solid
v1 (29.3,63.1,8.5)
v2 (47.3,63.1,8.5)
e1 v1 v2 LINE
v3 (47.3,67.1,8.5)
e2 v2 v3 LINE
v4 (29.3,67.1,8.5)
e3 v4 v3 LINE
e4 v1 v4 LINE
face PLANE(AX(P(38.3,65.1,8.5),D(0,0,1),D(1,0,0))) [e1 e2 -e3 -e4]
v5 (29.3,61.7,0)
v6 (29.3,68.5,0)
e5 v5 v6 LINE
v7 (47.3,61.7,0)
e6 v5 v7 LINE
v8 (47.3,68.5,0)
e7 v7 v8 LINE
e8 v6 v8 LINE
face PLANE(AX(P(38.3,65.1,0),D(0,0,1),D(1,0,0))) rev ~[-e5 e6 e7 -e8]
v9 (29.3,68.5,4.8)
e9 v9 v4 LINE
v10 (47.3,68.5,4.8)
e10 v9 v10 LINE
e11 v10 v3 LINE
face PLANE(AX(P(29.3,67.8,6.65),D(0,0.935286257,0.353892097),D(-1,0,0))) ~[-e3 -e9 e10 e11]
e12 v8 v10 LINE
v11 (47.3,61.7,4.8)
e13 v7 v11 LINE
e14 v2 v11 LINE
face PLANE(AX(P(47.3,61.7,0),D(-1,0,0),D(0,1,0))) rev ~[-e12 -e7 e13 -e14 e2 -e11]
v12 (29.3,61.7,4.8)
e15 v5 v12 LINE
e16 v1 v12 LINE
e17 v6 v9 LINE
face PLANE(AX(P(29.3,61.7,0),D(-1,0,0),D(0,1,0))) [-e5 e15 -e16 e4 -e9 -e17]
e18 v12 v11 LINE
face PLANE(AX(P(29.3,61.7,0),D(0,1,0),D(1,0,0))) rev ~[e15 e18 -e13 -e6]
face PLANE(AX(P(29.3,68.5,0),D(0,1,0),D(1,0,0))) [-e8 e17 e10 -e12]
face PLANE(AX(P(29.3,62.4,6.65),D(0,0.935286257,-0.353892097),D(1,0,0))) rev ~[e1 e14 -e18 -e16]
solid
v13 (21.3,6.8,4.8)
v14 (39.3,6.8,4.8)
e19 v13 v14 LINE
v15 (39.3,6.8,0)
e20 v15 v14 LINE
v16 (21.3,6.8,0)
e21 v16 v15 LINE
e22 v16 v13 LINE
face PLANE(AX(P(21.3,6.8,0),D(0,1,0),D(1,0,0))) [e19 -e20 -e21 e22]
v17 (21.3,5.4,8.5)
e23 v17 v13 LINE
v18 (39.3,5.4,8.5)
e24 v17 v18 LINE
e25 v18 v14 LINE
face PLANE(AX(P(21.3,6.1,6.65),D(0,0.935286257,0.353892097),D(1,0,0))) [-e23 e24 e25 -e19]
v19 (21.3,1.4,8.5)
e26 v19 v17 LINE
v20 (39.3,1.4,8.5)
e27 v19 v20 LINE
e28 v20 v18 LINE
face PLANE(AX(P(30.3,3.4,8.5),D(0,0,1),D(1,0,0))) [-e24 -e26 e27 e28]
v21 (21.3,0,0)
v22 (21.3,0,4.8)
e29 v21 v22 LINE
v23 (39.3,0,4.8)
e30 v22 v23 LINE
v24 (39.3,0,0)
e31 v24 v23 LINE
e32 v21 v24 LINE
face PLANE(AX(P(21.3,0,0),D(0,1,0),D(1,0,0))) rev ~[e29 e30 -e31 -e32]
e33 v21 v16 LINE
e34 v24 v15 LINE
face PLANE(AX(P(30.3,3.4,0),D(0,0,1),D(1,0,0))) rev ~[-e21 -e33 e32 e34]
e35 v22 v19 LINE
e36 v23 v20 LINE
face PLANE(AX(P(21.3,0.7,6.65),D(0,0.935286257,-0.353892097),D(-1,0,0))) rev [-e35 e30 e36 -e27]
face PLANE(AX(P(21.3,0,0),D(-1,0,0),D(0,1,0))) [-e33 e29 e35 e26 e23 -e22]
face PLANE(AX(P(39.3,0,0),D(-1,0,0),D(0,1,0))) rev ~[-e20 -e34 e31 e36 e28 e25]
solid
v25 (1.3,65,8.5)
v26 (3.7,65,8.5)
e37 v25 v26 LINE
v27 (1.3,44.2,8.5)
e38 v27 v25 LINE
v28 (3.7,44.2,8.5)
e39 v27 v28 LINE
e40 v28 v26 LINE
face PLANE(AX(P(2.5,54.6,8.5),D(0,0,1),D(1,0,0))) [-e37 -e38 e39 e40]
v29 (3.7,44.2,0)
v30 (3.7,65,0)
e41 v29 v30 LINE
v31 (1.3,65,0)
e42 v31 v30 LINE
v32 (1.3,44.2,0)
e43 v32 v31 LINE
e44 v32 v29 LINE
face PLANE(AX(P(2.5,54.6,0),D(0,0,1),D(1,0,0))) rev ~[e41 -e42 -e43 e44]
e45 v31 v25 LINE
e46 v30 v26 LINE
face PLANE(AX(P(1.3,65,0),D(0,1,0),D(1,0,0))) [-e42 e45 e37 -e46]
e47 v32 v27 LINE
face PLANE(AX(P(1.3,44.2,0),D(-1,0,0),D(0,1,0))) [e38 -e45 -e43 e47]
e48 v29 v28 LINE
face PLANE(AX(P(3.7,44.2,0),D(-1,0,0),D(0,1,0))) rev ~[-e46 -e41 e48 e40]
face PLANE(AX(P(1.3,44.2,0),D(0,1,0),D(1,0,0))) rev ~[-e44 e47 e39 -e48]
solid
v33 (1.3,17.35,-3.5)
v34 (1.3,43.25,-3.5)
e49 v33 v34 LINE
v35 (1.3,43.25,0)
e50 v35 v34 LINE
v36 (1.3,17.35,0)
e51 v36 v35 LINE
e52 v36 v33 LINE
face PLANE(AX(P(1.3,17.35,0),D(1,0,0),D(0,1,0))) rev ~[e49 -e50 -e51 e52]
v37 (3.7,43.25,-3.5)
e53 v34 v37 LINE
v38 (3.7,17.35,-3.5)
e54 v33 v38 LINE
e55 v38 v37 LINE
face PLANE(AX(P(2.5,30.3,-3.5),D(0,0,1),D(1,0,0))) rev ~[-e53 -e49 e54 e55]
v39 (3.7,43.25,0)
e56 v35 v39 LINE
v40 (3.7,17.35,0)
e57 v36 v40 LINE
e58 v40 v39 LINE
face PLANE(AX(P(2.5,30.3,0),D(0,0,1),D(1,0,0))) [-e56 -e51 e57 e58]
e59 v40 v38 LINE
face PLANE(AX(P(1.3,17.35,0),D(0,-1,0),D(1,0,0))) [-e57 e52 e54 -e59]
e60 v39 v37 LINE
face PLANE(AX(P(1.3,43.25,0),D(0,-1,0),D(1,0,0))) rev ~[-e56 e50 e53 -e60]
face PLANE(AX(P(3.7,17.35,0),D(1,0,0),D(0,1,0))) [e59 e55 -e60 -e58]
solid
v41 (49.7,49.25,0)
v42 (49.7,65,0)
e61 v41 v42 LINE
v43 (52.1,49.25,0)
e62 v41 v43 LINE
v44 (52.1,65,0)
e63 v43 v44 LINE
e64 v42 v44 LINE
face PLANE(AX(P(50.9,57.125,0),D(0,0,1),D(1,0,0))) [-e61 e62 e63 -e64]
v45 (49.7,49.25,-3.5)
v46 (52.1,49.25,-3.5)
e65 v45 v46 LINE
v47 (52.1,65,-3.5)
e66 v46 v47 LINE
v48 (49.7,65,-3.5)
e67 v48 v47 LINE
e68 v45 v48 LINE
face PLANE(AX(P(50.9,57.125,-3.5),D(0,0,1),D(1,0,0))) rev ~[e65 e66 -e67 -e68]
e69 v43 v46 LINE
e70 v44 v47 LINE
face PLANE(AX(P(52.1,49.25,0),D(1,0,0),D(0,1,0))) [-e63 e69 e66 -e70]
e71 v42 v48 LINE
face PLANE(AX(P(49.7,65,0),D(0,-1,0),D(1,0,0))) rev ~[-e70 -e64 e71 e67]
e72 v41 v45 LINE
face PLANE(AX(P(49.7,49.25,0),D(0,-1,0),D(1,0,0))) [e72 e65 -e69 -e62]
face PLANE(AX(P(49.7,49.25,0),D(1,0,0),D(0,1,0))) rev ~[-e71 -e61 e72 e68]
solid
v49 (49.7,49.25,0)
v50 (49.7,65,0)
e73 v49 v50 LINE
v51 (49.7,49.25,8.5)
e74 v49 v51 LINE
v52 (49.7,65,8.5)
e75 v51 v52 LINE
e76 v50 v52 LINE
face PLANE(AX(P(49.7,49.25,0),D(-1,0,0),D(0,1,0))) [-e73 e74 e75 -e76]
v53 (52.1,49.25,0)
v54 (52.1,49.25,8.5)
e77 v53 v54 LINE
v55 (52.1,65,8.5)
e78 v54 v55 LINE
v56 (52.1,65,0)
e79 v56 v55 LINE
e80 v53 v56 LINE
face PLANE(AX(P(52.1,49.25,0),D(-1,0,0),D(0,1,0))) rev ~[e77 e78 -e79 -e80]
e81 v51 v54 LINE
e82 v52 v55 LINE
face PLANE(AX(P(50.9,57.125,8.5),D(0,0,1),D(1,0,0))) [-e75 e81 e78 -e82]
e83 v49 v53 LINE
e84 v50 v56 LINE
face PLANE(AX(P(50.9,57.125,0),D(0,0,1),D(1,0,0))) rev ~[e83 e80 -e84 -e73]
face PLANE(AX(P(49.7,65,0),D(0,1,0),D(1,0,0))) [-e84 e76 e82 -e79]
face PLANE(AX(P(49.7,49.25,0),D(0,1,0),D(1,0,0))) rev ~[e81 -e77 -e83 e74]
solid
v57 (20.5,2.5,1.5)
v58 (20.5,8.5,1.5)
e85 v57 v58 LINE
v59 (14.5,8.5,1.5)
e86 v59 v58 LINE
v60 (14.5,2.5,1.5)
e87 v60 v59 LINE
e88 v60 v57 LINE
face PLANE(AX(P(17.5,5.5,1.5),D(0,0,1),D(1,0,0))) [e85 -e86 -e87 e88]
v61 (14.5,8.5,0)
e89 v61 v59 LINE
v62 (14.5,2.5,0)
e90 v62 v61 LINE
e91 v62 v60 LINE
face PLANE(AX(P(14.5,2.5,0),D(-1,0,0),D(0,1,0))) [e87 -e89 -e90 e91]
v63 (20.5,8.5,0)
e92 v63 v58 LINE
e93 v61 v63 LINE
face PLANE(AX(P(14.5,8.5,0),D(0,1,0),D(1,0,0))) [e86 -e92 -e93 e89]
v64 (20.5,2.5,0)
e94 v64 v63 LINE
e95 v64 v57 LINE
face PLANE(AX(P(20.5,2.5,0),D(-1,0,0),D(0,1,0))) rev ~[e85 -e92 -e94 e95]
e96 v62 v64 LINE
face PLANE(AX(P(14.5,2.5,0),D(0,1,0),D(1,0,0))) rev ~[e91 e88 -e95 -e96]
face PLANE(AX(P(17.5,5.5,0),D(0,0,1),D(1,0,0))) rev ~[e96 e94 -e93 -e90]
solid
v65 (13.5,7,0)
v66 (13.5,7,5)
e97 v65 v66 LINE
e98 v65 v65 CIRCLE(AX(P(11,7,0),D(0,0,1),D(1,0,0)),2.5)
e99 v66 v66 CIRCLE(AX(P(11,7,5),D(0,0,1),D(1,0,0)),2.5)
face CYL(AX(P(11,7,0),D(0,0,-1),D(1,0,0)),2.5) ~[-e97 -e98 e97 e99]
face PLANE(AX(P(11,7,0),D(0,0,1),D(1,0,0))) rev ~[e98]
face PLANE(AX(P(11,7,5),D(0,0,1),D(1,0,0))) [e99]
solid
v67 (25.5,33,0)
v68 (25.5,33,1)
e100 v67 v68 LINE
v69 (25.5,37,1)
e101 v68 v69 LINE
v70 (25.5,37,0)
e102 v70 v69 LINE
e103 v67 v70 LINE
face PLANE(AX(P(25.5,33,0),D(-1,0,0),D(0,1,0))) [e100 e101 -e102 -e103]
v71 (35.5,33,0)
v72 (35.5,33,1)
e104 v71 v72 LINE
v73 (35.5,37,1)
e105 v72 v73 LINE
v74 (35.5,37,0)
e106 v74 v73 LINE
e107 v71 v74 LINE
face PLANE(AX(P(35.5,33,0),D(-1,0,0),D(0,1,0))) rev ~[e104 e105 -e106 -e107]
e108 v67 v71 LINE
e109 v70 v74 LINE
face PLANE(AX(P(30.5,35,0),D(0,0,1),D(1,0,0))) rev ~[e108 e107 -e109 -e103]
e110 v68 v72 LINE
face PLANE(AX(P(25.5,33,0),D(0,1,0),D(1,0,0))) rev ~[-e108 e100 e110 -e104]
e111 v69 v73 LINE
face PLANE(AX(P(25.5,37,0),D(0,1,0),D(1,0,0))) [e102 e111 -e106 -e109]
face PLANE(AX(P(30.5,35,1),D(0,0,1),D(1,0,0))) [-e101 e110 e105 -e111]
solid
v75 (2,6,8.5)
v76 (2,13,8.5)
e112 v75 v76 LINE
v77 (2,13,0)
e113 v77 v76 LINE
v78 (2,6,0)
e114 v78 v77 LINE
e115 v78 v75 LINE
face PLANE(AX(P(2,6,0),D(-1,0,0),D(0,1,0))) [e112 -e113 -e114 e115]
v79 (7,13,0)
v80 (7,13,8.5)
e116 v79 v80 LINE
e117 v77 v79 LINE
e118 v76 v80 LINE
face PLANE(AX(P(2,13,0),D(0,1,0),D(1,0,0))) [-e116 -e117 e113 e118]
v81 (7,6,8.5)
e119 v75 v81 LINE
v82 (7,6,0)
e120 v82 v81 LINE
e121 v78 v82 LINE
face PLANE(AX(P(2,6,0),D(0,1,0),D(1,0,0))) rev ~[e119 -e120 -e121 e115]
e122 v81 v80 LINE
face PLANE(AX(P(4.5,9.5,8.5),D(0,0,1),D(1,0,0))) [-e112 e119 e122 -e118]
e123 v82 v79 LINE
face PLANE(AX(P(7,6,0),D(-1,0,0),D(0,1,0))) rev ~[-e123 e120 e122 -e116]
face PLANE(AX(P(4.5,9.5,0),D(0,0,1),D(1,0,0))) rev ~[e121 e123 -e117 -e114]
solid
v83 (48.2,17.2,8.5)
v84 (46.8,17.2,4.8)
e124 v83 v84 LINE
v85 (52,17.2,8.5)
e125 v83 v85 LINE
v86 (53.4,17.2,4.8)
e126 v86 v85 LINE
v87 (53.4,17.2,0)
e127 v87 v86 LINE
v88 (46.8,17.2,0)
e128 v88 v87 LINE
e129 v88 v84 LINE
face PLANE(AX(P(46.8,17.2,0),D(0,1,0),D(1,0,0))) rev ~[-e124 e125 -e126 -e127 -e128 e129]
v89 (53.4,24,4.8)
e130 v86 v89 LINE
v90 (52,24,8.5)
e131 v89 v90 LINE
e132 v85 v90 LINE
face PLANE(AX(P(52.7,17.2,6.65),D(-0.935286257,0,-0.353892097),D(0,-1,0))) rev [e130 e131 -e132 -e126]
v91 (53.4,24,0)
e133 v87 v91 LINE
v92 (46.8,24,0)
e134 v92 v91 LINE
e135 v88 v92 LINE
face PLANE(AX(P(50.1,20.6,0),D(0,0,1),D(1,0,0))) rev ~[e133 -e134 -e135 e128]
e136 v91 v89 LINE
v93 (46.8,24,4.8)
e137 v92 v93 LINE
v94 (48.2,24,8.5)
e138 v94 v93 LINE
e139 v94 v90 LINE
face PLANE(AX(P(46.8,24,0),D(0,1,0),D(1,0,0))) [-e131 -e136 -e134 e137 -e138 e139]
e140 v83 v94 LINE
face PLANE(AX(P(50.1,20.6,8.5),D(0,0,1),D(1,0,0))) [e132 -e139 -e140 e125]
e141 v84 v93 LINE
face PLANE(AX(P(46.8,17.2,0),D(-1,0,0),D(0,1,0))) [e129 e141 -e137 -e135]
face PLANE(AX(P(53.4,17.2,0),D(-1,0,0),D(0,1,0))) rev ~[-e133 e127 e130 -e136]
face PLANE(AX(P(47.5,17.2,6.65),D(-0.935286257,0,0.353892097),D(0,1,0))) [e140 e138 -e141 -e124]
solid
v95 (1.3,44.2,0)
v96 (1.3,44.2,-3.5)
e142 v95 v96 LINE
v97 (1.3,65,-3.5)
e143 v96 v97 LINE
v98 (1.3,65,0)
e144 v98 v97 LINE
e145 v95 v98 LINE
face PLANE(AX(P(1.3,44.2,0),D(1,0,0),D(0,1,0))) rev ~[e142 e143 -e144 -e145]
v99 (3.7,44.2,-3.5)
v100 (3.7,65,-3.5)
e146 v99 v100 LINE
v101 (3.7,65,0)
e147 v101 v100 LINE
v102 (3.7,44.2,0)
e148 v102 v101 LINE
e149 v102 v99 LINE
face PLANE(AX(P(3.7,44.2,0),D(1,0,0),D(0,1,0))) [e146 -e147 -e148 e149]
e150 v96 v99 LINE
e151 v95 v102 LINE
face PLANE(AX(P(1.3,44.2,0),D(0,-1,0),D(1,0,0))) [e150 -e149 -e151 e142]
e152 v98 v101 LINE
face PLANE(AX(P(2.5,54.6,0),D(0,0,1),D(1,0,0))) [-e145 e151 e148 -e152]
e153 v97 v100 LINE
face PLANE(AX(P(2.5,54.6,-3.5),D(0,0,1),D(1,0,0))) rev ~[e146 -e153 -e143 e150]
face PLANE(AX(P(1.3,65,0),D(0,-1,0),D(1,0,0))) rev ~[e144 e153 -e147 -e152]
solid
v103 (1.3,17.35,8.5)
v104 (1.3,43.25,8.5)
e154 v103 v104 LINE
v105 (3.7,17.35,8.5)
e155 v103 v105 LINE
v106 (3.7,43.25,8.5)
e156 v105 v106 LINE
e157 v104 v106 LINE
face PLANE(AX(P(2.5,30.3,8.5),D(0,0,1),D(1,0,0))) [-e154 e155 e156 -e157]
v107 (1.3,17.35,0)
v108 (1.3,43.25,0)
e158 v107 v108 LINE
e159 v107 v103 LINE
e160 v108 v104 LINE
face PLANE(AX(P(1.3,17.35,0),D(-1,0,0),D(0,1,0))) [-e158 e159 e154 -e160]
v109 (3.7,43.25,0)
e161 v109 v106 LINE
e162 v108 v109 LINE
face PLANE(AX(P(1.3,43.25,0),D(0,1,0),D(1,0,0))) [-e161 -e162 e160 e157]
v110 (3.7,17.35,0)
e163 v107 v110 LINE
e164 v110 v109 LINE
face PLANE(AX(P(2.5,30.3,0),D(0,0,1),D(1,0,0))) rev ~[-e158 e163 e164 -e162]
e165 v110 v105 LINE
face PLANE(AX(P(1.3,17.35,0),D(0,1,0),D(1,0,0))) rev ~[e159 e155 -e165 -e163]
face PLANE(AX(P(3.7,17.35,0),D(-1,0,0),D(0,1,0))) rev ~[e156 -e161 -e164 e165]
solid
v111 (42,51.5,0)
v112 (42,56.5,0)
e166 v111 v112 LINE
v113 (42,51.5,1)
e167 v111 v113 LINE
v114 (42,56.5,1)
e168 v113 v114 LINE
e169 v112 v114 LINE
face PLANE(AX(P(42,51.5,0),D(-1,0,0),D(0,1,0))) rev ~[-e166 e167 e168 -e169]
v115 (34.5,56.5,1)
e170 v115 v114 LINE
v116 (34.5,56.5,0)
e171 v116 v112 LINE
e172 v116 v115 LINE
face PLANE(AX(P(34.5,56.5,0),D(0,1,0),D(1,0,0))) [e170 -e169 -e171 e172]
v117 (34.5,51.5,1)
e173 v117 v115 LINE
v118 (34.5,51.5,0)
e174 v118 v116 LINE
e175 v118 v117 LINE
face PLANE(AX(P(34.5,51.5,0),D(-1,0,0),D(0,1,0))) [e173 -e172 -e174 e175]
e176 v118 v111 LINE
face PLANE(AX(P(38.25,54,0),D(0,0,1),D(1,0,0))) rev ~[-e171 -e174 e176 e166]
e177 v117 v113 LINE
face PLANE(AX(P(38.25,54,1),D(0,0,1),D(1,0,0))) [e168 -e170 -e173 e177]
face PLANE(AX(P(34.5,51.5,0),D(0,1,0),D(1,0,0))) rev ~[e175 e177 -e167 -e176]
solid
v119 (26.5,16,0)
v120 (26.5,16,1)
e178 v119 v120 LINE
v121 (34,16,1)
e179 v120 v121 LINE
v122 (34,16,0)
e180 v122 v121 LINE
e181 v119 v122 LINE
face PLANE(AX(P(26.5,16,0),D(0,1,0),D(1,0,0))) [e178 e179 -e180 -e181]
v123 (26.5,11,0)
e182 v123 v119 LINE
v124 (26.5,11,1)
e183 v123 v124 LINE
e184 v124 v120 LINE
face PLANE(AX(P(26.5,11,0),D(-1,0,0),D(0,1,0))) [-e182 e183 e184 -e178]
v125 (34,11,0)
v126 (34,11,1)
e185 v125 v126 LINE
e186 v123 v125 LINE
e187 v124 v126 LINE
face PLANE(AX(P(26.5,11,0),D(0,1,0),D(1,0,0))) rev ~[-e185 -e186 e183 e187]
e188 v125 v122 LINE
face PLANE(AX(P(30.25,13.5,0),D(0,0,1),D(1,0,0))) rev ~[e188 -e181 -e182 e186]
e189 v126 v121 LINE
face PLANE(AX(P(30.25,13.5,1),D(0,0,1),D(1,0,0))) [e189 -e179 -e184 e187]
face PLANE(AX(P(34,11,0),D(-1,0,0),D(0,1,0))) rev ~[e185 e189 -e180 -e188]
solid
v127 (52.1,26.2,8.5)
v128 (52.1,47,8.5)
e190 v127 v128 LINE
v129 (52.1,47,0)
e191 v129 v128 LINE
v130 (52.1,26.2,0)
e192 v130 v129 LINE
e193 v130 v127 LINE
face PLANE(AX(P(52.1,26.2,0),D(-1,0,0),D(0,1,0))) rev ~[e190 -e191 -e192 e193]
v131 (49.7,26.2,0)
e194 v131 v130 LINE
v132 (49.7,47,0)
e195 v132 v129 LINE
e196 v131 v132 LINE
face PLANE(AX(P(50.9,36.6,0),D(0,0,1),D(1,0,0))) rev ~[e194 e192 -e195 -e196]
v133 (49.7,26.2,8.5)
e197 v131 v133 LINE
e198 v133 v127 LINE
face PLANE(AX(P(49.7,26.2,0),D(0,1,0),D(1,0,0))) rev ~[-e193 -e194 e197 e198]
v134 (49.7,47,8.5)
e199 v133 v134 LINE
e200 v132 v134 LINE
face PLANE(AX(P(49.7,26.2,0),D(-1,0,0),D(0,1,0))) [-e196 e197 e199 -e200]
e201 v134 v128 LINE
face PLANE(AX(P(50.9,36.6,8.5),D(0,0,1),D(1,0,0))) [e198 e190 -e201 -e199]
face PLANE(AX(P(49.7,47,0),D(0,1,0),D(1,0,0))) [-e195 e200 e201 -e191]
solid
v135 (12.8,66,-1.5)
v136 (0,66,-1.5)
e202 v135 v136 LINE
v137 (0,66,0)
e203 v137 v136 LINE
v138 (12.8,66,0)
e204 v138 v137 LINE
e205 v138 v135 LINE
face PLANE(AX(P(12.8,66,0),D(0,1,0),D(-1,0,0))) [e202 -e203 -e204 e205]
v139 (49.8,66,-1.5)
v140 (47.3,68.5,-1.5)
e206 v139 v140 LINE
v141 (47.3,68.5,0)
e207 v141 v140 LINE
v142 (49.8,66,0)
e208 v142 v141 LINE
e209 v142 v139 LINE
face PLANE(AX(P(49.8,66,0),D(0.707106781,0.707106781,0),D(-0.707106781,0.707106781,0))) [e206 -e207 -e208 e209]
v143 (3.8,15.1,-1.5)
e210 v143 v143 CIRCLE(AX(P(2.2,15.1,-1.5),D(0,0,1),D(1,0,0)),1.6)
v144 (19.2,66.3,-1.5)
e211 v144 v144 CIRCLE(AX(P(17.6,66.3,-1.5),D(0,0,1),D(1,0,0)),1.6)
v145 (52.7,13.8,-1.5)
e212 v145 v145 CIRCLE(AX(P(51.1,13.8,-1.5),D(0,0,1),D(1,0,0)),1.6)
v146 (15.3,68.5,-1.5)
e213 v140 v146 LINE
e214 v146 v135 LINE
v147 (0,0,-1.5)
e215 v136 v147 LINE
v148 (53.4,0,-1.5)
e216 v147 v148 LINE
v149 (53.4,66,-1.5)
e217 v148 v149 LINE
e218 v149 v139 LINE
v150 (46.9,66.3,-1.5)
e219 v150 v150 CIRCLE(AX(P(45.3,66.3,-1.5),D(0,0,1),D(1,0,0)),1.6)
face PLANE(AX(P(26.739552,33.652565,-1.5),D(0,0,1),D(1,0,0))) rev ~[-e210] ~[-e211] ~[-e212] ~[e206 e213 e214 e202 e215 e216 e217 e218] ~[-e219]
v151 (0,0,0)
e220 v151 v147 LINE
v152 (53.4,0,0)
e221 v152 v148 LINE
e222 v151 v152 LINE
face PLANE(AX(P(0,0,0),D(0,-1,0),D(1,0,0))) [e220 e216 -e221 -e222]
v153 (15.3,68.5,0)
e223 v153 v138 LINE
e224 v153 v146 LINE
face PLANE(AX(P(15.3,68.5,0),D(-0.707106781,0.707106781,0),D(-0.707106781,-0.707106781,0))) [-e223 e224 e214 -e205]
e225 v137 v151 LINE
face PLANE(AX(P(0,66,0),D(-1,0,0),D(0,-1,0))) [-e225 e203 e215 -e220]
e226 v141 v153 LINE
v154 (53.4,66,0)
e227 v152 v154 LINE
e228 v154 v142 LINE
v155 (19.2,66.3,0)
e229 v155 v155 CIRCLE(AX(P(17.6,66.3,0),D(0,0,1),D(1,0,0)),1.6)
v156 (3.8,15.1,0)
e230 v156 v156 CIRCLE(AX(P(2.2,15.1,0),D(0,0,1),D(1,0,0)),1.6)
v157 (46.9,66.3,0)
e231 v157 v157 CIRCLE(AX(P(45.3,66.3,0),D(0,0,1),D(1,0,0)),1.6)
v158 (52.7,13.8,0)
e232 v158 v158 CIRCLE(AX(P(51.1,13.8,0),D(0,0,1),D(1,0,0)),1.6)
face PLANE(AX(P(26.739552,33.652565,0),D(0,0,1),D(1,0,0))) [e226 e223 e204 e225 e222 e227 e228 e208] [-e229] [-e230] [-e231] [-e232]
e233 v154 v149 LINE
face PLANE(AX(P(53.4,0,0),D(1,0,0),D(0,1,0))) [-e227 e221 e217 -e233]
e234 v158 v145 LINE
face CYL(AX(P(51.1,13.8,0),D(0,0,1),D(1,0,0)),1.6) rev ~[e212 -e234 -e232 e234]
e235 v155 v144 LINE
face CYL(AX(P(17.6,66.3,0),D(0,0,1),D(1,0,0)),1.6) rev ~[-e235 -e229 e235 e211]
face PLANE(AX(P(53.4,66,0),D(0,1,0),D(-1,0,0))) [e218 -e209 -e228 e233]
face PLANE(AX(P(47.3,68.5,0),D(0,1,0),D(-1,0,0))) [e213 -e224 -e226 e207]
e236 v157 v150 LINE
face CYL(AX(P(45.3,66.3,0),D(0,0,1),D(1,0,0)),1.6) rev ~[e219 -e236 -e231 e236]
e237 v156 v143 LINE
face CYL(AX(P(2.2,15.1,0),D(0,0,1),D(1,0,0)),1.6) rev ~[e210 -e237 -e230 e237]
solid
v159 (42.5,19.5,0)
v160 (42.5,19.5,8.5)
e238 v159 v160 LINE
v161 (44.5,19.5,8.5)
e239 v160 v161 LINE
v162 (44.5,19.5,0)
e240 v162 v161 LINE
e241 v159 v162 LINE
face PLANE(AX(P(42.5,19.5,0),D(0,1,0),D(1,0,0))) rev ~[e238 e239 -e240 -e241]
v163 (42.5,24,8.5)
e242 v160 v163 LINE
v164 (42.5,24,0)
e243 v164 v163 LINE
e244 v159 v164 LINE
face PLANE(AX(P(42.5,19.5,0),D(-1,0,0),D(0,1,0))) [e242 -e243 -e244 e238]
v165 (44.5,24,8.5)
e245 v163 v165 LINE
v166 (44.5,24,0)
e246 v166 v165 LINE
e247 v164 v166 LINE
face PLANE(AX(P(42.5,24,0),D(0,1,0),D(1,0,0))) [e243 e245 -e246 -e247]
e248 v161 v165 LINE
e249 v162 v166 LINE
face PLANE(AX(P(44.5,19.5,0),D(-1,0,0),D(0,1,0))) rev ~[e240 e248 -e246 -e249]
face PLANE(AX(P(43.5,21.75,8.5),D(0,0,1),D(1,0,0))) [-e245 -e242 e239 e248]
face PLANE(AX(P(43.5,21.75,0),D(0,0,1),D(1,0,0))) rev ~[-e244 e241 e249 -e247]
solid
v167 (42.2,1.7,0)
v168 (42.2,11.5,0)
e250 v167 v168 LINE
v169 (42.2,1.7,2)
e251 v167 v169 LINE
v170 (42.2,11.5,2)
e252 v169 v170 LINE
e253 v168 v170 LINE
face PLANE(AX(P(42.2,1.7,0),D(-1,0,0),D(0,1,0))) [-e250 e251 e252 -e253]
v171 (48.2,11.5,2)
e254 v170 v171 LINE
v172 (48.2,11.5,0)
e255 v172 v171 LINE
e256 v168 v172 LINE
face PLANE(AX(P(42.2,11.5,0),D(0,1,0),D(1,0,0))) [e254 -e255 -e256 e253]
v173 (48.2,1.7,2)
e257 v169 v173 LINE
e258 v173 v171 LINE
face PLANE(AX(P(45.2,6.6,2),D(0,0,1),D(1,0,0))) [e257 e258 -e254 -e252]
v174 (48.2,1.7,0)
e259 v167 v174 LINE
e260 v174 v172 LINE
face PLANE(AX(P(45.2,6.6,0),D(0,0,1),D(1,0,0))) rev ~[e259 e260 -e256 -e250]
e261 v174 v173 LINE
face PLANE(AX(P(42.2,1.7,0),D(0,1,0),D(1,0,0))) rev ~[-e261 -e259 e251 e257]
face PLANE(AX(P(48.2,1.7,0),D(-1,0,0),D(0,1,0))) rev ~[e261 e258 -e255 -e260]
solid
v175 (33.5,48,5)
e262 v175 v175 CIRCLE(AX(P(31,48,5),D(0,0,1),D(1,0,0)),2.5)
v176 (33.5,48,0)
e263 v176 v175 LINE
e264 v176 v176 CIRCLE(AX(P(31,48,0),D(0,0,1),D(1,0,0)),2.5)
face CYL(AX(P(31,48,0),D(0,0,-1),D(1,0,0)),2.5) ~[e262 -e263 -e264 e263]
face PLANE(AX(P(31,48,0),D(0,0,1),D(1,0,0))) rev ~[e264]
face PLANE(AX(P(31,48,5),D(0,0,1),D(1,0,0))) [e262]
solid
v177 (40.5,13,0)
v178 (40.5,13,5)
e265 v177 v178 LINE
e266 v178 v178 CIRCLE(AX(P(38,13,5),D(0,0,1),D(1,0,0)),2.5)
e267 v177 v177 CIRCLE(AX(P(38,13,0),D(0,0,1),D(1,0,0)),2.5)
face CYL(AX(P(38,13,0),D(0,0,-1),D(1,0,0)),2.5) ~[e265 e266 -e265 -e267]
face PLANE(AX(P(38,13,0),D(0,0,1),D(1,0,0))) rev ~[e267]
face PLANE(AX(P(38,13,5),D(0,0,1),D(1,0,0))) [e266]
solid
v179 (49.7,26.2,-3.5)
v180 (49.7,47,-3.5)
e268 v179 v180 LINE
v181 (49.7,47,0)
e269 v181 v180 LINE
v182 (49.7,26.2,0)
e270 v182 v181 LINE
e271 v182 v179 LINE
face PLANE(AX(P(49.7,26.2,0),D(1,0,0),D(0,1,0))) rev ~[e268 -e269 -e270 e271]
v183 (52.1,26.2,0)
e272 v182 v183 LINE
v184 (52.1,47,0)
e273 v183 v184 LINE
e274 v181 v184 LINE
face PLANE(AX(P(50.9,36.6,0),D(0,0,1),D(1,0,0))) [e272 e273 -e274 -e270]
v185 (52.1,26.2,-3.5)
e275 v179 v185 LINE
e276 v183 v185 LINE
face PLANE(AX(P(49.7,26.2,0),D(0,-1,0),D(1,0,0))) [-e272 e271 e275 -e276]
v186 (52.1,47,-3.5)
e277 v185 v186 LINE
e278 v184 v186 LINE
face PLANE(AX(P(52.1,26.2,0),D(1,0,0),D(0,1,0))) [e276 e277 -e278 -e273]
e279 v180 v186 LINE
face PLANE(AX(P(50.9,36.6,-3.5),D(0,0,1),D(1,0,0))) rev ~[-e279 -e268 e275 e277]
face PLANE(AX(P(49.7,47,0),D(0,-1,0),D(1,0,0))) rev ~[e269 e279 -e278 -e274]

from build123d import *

# Parameters (mm, degrees)
PAD_DEPTH        = 1.5
SKETCH001_R      = 1.6
POCKET_DEPTH     = 1.501
SKETCH002_W      = 2.4
SKETCH002_H      = 25.9
PAD001_DEPTH     = 8.5
SKETCH003_W      = 2.4
SKETCH003_H      = 20.8
PAD002_DEPTH     = 8.5
SKETCH004_W      = 2.4
SKETCH004_H      = 20.8
PAD003_DEPTH     = 8.5
SKETCH005_W      = 2.4
SKETCH005_H      = 15.75
PAD004_DEPTH     = 8.5
SKETCH006_W      = 18
SKETCH006_H      = 6.8
PAD005_DEPTH     = 8.5
CHAMFER_SIZE2    = 1.4
CHAMFER_SIZE     = 3.7
CHAMFER001_SIZE2 = 3.7
CHAMFER001_SIZE  = 1.4
SKETCH007_W      = 18
SKETCH007_H      = 6.8
PAD006_DEPTH     = 8.5
CHAMFER002_SIZE2 = 1.4
CHAMFER002_SIZE  = 3.7
CHAMFER003_SIZE2 = 3.7
CHAMFER003_SIZE  = 1.4
SKETCH008_W      = 6.6
SKETCH008_H      = 6.8
PAD007_DEPTH     = 8.5
CHAMFER004_SIZE2 = 1.4
CHAMFER004_SIZE  = 3.7
CHAMFER005_SIZE2 = 3.7
CHAMFER005_SIZE  = 1.4
SKETCH009_W      = 6
SKETCH009_H      = 6
PAD008_DEPTH     = 1.5
SKETCH010_W      = 6
SKETCH010_H      = 9.8
PAD009_DEPTH     = 2
SKETCH011_W      = 7.5
SKETCH011_H      = 5
PAD010_DEPTH     = 1
SKETCH012_W      = 7.5
SKETCH012_H      = 5
PAD011_DEPTH     = 1
SKETCH013_W      = 10
SKETCH013_H      = 4
PAD012_DEPTH     = 1
SKETCH014_W      = 5
SKETCH014_H      = 7
PAD013_DEPTH     = 8.5
SKETCH015_R      = 2.5
PAD014_DEPTH     = 5
SKETCH016_R      = 2.5
PAD015_DEPTH     = 5
SKETCH017_R      = 2.5
PAD016_DEPTH     = 5
SKETCH018_W      = 2
SKETCH018_H      = 4.5
PAD017_DEPTH     = 8.5
SKETCH019_W      = 2.4
SKETCH019_H      = 25.9
PAD018_DEPTH     = 3.5
SKETCH020_W      = 2.4
SKETCH020_H      = 20.8
PAD019_DEPTH     = 3.5
SKETCH021_W      = 2.4
SKETCH021_H      = 20.8
PAD020_DEPTH     = 3.5
SKETCH022_W      = 2.4
SKETCH022_H      = 15.75
PAD021_DEPTH     = 3.5


with BuildPart() as mainboard:
    # Sketch → Pad (new body)
    with BuildSketch(Plane.XY):
        Polygon((0, 0), (53.4, 0), (53.4, 66), (49.8, 66), (47.3, 68.5), (15.3, 68.5), (12.8, 66), (0, 66), align=None)
    extrude(amount=-PAD_DEPTH)

    # Sketch001 → Pocket (cut, through all)
    with BuildSketch(Plane.XY):
        with Locations((2.2, 15.1)):
            Circle(SKETCH001_R)
        with Locations((51.1, 13.8)):
            Circle(SKETCH001_R)
        with Locations((17.6, 66.3)):
            Circle(SKETCH001_R)
        with Locations((45.3, 66.3)):
            Circle(SKETCH001_R)
    extrude(amount=-POCKET_DEPTH, mode=Mode.SUBTRACT)


with BuildPart() as header1_10pin:
    # Sketch002 → Pad001 (new body)
    with BuildSketch(Plane.XY):
        with Locations((2.5, 30.3)):
            Rectangle(SKETCH002_W, SKETCH002_H)
    extrude(amount=PAD001_DEPTH)


with BuildPart() as header2_8pin:
    # Sketch003 → Pad002 (new body)
    with BuildSketch(Plane.XY):
        with Locations((2.5, 54.6)):
            Rectangle(SKETCH003_W, SKETCH003_H)
    extrude(amount=PAD002_DEPTH)


with BuildPart() as header3_8pin:
    # Sketch004 → Pad003 (new body)
    with BuildSketch(Plane.XY):
        with Locations((50.9, 36.6)):
            Rectangle(SKETCH004_W, SKETCH004_H)
    extrude(amount=PAD003_DEPTH)


with BuildPart() as header4_6pin:
    # Sketch005 → Pad004 (new body)
    with BuildSketch(Plane.XY):
        with Locations((50.9, 57.125)):
            Rectangle(SKETCH005_W, SKETCH005_H)
    extrude(amount=PAD004_DEPTH)


with BuildPart() as m1m2header:
    # Sketch006 → Pad005 (new body)
    with BuildSketch(Plane.XY):
        with Locations((30.3, 3.4)):
            Rectangle(SKETCH006_W, SKETCH006_H)
    extrude(amount=PAD005_DEPTH)

    # Chamfer
    chamfer_edges = [m1m2header.edges().sort_by_distance(p)[0] for p in [
        (30.3, 0, 8.5),
    ]]
    chamfer_side = m1m2header.faces().sort_by_distance((30.3, 0, 4.25))[0]
    chamfer(chamfer_edges, length=CHAMFER_SIZE, length2=CHAMFER_SIZE2, reference=chamfer_side)

    # Chamfer001
    chamfer001_edges = [m1m2header.edges().sort_by_distance(p)[0] for p in [
        (30.3, 6.8, 8.5),
    ]]
    chamfer001_side = m1m2header.faces().sort_by_distance((30.3, 4.1, 8.5))[0]
    chamfer(chamfer001_edges, length=CHAMFER001_SIZE, length2=CHAMFER001_SIZE2, reference=chamfer001_side)


with BuildPart() as m3m4header:
    # Sketch007 → Pad006 (new body)
    with BuildSketch(Plane.XY):
        with Locations((38.3, 65.1)):
            Rectangle(SKETCH007_W, SKETCH007_H)
    extrude(amount=PAD006_DEPTH)

    # Chamfer002
    chamfer002_edges = [m3m4header.edges().sort_by_distance(p)[0] for p in [
        (38.3, 68.5, 8.5),
    ]]
    chamfer002_side = m3m4header.faces().sort_by_distance((38.3, 68.5, 4.25))[0]
    chamfer(chamfer002_edges, length=CHAMFER002_SIZE, length2=CHAMFER002_SIZE2, reference=chamfer002_side)

    # Chamfer003
    chamfer003_edges = [m3m4header.edges().sort_by_distance(p)[0] for p in [
        (38.3, 61.7, 8.5),
    ]]
    chamfer003_side = m3m4header.faces().sort_by_distance((38.3, 64.4, 8.5))[0]
    chamfer(chamfer003_edges, length=CHAMFER003_SIZE, length2=CHAMFER003_SIZE2, reference=chamfer003_side)


with BuildPart() as powerheader:
    # Sketch008 → Pad007 (new body)
    with BuildSketch(Plane.XY):
        with Locations((50.1, 20.6)):
            Rectangle(SKETCH008_W, SKETCH008_H)
    extrude(amount=PAD007_DEPTH)

    # Chamfer004
    chamfer004_edges = [powerheader.edges().sort_by_distance(p)[0] for p in [
        (53.4, 20.6, 8.5),
    ]]
    chamfer004_side = powerheader.faces().sort_by_distance((53.4, 20.6, 4.25))[0]
    chamfer(chamfer004_edges, length=CHAMFER004_SIZE, length2=CHAMFER004_SIZE2, reference=chamfer004_side)

    # Chamfer005
    chamfer005_edges = [powerheader.edges().sort_by_distance(p)[0] for p in [
        (46.8, 20.6, 8.5),
    ]]
    chamfer005_side = powerheader.faces().sort_by_distance((49.4, 20.6, 8.5))[0]
    chamfer(chamfer005_edges, length=CHAMFER005_SIZE, length2=CHAMFER005_SIZE2, reference=chamfer005_side)


with BuildPart() as resetbutton:
    # Sketch009 → Pad008 (new body)
    with BuildSketch(Plane.XY):
        with Locations((17.5, 5.5)):
            Rectangle(SKETCH009_W, SKETCH009_H)
    extrude(amount=PAD008_DEPTH)


with BuildPart() as fet:
    # Sketch010 → Pad009 (new body)
    with BuildSketch(Plane.XY):
        with Locations((45.2, 6.6)):
            Rectangle(SKETCH010_W, SKETCH010_H)
    extrude(amount=PAD009_DEPTH)


with BuildPart() as hbridge1:
    # Sketch011 → Pad010 (new body)
    with BuildSketch(Plane.XY):
        with Locations((38.25, 54)):
            Rectangle(SKETCH011_W, SKETCH011_H)
    extrude(amount=PAD010_DEPTH)


with BuildPart() as hbridge2:
    # Sketch012 → Pad011 (new body)
    with BuildSketch(Plane.XY):
        with Locations((30.25, 13.5)):
            Rectangle(SKETCH012_W, SKETCH012_H)
    extrude(amount=PAD011_DEPTH)


with BuildPart() as chip:
    # Sketch013 → Pad012 (new body)
    with BuildSketch(Plane.XY):
        with Locations((30.5, 35)):
            Rectangle(SKETCH013_W, SKETCH013_H)
    extrude(amount=PAD012_DEPTH)


with BuildPart() as servopins:
    # Sketch014 → Pad013 (new body)
    with BuildSketch(Plane.XY):
        with Locations((4.5, 9.5)):
            Rectangle(SKETCH014_W, SKETCH014_H)
    extrude(amount=PAD013_DEPTH)


with BuildPart() as cap1:
    # Sketch015 → Pad014 (new body)
    with BuildSketch(Plane.XY):
        with Locations((11, 7)):
            Circle(SKETCH015_R)
    extrude(amount=PAD014_DEPTH)


with BuildPart() as cap2:
    # Sketch016 → Pad015 (new body)
    with BuildSketch(Plane.XY):
        with Locations((38, 13)):
            Circle(SKETCH016_R)
    extrude(amount=PAD015_DEPTH)


with BuildPart() as cap3:
    # Sketch017 → Pad016 (new body)
    with BuildSketch(Plane.XY):
        with Locations((31, 48)):
            Circle(SKETCH017_R)
    extrude(amount=PAD016_DEPTH)


with BuildPart() as powerjumper:
    # Sketch018 → Pad017 (new body)
    with BuildSketch(Plane.XY):
        with Locations((43.5, 21.75)):
            Rectangle(SKETCH018_W, SKETCH018_H)
    extrude(amount=PAD017_DEPTH)


with BuildPart() as pins1:
    # Sketch019 → Pad018 (new body)
    with BuildSketch(Plane.XY):
        with Locations((2.5, 30.3)):
            Rectangle(SKETCH019_W, SKETCH019_H)
    extrude(amount=-PAD018_DEPTH)


with BuildPart() as pins2:
    # Sketch020 → Pad019 (new body)
    with BuildSketch(Plane.XY):
        with Locations((2.5, 54.6)):
            Rectangle(SKETCH020_W, SKETCH020_H)
    extrude(amount=-PAD019_DEPTH)


with BuildPart() as pins3:
    # Sketch021 → Pad020 (new body)
    with BuildSketch(Plane.XY):
        with Locations((50.9, 36.6)):
            Rectangle(SKETCH021_W, SKETCH021_H)
    extrude(amount=-PAD020_DEPTH)


with BuildPart() as pin4:
    # Sketch022 → Pad021 (new body)
    with BuildSketch(Plane.XY):
        with Locations((50.9, 57.125)):
            Rectangle(SKETCH022_W, SKETCH022_H)
    extrude(amount=-PAD021_DEPTH)


solid = Compound([mainboard.part, header1_10pin.part, header2_8pin.part, header3_8pin.part, header4_6pin.part, m1m2header.part, m3m4header.part, powerheader.part, resetbutton.part, fet.part, hbridge1.part, hbridge2.part, chip.part, servopins.part, cap1.part, cap2.part, cap3.part, powerjumper.part, pins1.part, pins2.part, pins3.part, pin4.part])
